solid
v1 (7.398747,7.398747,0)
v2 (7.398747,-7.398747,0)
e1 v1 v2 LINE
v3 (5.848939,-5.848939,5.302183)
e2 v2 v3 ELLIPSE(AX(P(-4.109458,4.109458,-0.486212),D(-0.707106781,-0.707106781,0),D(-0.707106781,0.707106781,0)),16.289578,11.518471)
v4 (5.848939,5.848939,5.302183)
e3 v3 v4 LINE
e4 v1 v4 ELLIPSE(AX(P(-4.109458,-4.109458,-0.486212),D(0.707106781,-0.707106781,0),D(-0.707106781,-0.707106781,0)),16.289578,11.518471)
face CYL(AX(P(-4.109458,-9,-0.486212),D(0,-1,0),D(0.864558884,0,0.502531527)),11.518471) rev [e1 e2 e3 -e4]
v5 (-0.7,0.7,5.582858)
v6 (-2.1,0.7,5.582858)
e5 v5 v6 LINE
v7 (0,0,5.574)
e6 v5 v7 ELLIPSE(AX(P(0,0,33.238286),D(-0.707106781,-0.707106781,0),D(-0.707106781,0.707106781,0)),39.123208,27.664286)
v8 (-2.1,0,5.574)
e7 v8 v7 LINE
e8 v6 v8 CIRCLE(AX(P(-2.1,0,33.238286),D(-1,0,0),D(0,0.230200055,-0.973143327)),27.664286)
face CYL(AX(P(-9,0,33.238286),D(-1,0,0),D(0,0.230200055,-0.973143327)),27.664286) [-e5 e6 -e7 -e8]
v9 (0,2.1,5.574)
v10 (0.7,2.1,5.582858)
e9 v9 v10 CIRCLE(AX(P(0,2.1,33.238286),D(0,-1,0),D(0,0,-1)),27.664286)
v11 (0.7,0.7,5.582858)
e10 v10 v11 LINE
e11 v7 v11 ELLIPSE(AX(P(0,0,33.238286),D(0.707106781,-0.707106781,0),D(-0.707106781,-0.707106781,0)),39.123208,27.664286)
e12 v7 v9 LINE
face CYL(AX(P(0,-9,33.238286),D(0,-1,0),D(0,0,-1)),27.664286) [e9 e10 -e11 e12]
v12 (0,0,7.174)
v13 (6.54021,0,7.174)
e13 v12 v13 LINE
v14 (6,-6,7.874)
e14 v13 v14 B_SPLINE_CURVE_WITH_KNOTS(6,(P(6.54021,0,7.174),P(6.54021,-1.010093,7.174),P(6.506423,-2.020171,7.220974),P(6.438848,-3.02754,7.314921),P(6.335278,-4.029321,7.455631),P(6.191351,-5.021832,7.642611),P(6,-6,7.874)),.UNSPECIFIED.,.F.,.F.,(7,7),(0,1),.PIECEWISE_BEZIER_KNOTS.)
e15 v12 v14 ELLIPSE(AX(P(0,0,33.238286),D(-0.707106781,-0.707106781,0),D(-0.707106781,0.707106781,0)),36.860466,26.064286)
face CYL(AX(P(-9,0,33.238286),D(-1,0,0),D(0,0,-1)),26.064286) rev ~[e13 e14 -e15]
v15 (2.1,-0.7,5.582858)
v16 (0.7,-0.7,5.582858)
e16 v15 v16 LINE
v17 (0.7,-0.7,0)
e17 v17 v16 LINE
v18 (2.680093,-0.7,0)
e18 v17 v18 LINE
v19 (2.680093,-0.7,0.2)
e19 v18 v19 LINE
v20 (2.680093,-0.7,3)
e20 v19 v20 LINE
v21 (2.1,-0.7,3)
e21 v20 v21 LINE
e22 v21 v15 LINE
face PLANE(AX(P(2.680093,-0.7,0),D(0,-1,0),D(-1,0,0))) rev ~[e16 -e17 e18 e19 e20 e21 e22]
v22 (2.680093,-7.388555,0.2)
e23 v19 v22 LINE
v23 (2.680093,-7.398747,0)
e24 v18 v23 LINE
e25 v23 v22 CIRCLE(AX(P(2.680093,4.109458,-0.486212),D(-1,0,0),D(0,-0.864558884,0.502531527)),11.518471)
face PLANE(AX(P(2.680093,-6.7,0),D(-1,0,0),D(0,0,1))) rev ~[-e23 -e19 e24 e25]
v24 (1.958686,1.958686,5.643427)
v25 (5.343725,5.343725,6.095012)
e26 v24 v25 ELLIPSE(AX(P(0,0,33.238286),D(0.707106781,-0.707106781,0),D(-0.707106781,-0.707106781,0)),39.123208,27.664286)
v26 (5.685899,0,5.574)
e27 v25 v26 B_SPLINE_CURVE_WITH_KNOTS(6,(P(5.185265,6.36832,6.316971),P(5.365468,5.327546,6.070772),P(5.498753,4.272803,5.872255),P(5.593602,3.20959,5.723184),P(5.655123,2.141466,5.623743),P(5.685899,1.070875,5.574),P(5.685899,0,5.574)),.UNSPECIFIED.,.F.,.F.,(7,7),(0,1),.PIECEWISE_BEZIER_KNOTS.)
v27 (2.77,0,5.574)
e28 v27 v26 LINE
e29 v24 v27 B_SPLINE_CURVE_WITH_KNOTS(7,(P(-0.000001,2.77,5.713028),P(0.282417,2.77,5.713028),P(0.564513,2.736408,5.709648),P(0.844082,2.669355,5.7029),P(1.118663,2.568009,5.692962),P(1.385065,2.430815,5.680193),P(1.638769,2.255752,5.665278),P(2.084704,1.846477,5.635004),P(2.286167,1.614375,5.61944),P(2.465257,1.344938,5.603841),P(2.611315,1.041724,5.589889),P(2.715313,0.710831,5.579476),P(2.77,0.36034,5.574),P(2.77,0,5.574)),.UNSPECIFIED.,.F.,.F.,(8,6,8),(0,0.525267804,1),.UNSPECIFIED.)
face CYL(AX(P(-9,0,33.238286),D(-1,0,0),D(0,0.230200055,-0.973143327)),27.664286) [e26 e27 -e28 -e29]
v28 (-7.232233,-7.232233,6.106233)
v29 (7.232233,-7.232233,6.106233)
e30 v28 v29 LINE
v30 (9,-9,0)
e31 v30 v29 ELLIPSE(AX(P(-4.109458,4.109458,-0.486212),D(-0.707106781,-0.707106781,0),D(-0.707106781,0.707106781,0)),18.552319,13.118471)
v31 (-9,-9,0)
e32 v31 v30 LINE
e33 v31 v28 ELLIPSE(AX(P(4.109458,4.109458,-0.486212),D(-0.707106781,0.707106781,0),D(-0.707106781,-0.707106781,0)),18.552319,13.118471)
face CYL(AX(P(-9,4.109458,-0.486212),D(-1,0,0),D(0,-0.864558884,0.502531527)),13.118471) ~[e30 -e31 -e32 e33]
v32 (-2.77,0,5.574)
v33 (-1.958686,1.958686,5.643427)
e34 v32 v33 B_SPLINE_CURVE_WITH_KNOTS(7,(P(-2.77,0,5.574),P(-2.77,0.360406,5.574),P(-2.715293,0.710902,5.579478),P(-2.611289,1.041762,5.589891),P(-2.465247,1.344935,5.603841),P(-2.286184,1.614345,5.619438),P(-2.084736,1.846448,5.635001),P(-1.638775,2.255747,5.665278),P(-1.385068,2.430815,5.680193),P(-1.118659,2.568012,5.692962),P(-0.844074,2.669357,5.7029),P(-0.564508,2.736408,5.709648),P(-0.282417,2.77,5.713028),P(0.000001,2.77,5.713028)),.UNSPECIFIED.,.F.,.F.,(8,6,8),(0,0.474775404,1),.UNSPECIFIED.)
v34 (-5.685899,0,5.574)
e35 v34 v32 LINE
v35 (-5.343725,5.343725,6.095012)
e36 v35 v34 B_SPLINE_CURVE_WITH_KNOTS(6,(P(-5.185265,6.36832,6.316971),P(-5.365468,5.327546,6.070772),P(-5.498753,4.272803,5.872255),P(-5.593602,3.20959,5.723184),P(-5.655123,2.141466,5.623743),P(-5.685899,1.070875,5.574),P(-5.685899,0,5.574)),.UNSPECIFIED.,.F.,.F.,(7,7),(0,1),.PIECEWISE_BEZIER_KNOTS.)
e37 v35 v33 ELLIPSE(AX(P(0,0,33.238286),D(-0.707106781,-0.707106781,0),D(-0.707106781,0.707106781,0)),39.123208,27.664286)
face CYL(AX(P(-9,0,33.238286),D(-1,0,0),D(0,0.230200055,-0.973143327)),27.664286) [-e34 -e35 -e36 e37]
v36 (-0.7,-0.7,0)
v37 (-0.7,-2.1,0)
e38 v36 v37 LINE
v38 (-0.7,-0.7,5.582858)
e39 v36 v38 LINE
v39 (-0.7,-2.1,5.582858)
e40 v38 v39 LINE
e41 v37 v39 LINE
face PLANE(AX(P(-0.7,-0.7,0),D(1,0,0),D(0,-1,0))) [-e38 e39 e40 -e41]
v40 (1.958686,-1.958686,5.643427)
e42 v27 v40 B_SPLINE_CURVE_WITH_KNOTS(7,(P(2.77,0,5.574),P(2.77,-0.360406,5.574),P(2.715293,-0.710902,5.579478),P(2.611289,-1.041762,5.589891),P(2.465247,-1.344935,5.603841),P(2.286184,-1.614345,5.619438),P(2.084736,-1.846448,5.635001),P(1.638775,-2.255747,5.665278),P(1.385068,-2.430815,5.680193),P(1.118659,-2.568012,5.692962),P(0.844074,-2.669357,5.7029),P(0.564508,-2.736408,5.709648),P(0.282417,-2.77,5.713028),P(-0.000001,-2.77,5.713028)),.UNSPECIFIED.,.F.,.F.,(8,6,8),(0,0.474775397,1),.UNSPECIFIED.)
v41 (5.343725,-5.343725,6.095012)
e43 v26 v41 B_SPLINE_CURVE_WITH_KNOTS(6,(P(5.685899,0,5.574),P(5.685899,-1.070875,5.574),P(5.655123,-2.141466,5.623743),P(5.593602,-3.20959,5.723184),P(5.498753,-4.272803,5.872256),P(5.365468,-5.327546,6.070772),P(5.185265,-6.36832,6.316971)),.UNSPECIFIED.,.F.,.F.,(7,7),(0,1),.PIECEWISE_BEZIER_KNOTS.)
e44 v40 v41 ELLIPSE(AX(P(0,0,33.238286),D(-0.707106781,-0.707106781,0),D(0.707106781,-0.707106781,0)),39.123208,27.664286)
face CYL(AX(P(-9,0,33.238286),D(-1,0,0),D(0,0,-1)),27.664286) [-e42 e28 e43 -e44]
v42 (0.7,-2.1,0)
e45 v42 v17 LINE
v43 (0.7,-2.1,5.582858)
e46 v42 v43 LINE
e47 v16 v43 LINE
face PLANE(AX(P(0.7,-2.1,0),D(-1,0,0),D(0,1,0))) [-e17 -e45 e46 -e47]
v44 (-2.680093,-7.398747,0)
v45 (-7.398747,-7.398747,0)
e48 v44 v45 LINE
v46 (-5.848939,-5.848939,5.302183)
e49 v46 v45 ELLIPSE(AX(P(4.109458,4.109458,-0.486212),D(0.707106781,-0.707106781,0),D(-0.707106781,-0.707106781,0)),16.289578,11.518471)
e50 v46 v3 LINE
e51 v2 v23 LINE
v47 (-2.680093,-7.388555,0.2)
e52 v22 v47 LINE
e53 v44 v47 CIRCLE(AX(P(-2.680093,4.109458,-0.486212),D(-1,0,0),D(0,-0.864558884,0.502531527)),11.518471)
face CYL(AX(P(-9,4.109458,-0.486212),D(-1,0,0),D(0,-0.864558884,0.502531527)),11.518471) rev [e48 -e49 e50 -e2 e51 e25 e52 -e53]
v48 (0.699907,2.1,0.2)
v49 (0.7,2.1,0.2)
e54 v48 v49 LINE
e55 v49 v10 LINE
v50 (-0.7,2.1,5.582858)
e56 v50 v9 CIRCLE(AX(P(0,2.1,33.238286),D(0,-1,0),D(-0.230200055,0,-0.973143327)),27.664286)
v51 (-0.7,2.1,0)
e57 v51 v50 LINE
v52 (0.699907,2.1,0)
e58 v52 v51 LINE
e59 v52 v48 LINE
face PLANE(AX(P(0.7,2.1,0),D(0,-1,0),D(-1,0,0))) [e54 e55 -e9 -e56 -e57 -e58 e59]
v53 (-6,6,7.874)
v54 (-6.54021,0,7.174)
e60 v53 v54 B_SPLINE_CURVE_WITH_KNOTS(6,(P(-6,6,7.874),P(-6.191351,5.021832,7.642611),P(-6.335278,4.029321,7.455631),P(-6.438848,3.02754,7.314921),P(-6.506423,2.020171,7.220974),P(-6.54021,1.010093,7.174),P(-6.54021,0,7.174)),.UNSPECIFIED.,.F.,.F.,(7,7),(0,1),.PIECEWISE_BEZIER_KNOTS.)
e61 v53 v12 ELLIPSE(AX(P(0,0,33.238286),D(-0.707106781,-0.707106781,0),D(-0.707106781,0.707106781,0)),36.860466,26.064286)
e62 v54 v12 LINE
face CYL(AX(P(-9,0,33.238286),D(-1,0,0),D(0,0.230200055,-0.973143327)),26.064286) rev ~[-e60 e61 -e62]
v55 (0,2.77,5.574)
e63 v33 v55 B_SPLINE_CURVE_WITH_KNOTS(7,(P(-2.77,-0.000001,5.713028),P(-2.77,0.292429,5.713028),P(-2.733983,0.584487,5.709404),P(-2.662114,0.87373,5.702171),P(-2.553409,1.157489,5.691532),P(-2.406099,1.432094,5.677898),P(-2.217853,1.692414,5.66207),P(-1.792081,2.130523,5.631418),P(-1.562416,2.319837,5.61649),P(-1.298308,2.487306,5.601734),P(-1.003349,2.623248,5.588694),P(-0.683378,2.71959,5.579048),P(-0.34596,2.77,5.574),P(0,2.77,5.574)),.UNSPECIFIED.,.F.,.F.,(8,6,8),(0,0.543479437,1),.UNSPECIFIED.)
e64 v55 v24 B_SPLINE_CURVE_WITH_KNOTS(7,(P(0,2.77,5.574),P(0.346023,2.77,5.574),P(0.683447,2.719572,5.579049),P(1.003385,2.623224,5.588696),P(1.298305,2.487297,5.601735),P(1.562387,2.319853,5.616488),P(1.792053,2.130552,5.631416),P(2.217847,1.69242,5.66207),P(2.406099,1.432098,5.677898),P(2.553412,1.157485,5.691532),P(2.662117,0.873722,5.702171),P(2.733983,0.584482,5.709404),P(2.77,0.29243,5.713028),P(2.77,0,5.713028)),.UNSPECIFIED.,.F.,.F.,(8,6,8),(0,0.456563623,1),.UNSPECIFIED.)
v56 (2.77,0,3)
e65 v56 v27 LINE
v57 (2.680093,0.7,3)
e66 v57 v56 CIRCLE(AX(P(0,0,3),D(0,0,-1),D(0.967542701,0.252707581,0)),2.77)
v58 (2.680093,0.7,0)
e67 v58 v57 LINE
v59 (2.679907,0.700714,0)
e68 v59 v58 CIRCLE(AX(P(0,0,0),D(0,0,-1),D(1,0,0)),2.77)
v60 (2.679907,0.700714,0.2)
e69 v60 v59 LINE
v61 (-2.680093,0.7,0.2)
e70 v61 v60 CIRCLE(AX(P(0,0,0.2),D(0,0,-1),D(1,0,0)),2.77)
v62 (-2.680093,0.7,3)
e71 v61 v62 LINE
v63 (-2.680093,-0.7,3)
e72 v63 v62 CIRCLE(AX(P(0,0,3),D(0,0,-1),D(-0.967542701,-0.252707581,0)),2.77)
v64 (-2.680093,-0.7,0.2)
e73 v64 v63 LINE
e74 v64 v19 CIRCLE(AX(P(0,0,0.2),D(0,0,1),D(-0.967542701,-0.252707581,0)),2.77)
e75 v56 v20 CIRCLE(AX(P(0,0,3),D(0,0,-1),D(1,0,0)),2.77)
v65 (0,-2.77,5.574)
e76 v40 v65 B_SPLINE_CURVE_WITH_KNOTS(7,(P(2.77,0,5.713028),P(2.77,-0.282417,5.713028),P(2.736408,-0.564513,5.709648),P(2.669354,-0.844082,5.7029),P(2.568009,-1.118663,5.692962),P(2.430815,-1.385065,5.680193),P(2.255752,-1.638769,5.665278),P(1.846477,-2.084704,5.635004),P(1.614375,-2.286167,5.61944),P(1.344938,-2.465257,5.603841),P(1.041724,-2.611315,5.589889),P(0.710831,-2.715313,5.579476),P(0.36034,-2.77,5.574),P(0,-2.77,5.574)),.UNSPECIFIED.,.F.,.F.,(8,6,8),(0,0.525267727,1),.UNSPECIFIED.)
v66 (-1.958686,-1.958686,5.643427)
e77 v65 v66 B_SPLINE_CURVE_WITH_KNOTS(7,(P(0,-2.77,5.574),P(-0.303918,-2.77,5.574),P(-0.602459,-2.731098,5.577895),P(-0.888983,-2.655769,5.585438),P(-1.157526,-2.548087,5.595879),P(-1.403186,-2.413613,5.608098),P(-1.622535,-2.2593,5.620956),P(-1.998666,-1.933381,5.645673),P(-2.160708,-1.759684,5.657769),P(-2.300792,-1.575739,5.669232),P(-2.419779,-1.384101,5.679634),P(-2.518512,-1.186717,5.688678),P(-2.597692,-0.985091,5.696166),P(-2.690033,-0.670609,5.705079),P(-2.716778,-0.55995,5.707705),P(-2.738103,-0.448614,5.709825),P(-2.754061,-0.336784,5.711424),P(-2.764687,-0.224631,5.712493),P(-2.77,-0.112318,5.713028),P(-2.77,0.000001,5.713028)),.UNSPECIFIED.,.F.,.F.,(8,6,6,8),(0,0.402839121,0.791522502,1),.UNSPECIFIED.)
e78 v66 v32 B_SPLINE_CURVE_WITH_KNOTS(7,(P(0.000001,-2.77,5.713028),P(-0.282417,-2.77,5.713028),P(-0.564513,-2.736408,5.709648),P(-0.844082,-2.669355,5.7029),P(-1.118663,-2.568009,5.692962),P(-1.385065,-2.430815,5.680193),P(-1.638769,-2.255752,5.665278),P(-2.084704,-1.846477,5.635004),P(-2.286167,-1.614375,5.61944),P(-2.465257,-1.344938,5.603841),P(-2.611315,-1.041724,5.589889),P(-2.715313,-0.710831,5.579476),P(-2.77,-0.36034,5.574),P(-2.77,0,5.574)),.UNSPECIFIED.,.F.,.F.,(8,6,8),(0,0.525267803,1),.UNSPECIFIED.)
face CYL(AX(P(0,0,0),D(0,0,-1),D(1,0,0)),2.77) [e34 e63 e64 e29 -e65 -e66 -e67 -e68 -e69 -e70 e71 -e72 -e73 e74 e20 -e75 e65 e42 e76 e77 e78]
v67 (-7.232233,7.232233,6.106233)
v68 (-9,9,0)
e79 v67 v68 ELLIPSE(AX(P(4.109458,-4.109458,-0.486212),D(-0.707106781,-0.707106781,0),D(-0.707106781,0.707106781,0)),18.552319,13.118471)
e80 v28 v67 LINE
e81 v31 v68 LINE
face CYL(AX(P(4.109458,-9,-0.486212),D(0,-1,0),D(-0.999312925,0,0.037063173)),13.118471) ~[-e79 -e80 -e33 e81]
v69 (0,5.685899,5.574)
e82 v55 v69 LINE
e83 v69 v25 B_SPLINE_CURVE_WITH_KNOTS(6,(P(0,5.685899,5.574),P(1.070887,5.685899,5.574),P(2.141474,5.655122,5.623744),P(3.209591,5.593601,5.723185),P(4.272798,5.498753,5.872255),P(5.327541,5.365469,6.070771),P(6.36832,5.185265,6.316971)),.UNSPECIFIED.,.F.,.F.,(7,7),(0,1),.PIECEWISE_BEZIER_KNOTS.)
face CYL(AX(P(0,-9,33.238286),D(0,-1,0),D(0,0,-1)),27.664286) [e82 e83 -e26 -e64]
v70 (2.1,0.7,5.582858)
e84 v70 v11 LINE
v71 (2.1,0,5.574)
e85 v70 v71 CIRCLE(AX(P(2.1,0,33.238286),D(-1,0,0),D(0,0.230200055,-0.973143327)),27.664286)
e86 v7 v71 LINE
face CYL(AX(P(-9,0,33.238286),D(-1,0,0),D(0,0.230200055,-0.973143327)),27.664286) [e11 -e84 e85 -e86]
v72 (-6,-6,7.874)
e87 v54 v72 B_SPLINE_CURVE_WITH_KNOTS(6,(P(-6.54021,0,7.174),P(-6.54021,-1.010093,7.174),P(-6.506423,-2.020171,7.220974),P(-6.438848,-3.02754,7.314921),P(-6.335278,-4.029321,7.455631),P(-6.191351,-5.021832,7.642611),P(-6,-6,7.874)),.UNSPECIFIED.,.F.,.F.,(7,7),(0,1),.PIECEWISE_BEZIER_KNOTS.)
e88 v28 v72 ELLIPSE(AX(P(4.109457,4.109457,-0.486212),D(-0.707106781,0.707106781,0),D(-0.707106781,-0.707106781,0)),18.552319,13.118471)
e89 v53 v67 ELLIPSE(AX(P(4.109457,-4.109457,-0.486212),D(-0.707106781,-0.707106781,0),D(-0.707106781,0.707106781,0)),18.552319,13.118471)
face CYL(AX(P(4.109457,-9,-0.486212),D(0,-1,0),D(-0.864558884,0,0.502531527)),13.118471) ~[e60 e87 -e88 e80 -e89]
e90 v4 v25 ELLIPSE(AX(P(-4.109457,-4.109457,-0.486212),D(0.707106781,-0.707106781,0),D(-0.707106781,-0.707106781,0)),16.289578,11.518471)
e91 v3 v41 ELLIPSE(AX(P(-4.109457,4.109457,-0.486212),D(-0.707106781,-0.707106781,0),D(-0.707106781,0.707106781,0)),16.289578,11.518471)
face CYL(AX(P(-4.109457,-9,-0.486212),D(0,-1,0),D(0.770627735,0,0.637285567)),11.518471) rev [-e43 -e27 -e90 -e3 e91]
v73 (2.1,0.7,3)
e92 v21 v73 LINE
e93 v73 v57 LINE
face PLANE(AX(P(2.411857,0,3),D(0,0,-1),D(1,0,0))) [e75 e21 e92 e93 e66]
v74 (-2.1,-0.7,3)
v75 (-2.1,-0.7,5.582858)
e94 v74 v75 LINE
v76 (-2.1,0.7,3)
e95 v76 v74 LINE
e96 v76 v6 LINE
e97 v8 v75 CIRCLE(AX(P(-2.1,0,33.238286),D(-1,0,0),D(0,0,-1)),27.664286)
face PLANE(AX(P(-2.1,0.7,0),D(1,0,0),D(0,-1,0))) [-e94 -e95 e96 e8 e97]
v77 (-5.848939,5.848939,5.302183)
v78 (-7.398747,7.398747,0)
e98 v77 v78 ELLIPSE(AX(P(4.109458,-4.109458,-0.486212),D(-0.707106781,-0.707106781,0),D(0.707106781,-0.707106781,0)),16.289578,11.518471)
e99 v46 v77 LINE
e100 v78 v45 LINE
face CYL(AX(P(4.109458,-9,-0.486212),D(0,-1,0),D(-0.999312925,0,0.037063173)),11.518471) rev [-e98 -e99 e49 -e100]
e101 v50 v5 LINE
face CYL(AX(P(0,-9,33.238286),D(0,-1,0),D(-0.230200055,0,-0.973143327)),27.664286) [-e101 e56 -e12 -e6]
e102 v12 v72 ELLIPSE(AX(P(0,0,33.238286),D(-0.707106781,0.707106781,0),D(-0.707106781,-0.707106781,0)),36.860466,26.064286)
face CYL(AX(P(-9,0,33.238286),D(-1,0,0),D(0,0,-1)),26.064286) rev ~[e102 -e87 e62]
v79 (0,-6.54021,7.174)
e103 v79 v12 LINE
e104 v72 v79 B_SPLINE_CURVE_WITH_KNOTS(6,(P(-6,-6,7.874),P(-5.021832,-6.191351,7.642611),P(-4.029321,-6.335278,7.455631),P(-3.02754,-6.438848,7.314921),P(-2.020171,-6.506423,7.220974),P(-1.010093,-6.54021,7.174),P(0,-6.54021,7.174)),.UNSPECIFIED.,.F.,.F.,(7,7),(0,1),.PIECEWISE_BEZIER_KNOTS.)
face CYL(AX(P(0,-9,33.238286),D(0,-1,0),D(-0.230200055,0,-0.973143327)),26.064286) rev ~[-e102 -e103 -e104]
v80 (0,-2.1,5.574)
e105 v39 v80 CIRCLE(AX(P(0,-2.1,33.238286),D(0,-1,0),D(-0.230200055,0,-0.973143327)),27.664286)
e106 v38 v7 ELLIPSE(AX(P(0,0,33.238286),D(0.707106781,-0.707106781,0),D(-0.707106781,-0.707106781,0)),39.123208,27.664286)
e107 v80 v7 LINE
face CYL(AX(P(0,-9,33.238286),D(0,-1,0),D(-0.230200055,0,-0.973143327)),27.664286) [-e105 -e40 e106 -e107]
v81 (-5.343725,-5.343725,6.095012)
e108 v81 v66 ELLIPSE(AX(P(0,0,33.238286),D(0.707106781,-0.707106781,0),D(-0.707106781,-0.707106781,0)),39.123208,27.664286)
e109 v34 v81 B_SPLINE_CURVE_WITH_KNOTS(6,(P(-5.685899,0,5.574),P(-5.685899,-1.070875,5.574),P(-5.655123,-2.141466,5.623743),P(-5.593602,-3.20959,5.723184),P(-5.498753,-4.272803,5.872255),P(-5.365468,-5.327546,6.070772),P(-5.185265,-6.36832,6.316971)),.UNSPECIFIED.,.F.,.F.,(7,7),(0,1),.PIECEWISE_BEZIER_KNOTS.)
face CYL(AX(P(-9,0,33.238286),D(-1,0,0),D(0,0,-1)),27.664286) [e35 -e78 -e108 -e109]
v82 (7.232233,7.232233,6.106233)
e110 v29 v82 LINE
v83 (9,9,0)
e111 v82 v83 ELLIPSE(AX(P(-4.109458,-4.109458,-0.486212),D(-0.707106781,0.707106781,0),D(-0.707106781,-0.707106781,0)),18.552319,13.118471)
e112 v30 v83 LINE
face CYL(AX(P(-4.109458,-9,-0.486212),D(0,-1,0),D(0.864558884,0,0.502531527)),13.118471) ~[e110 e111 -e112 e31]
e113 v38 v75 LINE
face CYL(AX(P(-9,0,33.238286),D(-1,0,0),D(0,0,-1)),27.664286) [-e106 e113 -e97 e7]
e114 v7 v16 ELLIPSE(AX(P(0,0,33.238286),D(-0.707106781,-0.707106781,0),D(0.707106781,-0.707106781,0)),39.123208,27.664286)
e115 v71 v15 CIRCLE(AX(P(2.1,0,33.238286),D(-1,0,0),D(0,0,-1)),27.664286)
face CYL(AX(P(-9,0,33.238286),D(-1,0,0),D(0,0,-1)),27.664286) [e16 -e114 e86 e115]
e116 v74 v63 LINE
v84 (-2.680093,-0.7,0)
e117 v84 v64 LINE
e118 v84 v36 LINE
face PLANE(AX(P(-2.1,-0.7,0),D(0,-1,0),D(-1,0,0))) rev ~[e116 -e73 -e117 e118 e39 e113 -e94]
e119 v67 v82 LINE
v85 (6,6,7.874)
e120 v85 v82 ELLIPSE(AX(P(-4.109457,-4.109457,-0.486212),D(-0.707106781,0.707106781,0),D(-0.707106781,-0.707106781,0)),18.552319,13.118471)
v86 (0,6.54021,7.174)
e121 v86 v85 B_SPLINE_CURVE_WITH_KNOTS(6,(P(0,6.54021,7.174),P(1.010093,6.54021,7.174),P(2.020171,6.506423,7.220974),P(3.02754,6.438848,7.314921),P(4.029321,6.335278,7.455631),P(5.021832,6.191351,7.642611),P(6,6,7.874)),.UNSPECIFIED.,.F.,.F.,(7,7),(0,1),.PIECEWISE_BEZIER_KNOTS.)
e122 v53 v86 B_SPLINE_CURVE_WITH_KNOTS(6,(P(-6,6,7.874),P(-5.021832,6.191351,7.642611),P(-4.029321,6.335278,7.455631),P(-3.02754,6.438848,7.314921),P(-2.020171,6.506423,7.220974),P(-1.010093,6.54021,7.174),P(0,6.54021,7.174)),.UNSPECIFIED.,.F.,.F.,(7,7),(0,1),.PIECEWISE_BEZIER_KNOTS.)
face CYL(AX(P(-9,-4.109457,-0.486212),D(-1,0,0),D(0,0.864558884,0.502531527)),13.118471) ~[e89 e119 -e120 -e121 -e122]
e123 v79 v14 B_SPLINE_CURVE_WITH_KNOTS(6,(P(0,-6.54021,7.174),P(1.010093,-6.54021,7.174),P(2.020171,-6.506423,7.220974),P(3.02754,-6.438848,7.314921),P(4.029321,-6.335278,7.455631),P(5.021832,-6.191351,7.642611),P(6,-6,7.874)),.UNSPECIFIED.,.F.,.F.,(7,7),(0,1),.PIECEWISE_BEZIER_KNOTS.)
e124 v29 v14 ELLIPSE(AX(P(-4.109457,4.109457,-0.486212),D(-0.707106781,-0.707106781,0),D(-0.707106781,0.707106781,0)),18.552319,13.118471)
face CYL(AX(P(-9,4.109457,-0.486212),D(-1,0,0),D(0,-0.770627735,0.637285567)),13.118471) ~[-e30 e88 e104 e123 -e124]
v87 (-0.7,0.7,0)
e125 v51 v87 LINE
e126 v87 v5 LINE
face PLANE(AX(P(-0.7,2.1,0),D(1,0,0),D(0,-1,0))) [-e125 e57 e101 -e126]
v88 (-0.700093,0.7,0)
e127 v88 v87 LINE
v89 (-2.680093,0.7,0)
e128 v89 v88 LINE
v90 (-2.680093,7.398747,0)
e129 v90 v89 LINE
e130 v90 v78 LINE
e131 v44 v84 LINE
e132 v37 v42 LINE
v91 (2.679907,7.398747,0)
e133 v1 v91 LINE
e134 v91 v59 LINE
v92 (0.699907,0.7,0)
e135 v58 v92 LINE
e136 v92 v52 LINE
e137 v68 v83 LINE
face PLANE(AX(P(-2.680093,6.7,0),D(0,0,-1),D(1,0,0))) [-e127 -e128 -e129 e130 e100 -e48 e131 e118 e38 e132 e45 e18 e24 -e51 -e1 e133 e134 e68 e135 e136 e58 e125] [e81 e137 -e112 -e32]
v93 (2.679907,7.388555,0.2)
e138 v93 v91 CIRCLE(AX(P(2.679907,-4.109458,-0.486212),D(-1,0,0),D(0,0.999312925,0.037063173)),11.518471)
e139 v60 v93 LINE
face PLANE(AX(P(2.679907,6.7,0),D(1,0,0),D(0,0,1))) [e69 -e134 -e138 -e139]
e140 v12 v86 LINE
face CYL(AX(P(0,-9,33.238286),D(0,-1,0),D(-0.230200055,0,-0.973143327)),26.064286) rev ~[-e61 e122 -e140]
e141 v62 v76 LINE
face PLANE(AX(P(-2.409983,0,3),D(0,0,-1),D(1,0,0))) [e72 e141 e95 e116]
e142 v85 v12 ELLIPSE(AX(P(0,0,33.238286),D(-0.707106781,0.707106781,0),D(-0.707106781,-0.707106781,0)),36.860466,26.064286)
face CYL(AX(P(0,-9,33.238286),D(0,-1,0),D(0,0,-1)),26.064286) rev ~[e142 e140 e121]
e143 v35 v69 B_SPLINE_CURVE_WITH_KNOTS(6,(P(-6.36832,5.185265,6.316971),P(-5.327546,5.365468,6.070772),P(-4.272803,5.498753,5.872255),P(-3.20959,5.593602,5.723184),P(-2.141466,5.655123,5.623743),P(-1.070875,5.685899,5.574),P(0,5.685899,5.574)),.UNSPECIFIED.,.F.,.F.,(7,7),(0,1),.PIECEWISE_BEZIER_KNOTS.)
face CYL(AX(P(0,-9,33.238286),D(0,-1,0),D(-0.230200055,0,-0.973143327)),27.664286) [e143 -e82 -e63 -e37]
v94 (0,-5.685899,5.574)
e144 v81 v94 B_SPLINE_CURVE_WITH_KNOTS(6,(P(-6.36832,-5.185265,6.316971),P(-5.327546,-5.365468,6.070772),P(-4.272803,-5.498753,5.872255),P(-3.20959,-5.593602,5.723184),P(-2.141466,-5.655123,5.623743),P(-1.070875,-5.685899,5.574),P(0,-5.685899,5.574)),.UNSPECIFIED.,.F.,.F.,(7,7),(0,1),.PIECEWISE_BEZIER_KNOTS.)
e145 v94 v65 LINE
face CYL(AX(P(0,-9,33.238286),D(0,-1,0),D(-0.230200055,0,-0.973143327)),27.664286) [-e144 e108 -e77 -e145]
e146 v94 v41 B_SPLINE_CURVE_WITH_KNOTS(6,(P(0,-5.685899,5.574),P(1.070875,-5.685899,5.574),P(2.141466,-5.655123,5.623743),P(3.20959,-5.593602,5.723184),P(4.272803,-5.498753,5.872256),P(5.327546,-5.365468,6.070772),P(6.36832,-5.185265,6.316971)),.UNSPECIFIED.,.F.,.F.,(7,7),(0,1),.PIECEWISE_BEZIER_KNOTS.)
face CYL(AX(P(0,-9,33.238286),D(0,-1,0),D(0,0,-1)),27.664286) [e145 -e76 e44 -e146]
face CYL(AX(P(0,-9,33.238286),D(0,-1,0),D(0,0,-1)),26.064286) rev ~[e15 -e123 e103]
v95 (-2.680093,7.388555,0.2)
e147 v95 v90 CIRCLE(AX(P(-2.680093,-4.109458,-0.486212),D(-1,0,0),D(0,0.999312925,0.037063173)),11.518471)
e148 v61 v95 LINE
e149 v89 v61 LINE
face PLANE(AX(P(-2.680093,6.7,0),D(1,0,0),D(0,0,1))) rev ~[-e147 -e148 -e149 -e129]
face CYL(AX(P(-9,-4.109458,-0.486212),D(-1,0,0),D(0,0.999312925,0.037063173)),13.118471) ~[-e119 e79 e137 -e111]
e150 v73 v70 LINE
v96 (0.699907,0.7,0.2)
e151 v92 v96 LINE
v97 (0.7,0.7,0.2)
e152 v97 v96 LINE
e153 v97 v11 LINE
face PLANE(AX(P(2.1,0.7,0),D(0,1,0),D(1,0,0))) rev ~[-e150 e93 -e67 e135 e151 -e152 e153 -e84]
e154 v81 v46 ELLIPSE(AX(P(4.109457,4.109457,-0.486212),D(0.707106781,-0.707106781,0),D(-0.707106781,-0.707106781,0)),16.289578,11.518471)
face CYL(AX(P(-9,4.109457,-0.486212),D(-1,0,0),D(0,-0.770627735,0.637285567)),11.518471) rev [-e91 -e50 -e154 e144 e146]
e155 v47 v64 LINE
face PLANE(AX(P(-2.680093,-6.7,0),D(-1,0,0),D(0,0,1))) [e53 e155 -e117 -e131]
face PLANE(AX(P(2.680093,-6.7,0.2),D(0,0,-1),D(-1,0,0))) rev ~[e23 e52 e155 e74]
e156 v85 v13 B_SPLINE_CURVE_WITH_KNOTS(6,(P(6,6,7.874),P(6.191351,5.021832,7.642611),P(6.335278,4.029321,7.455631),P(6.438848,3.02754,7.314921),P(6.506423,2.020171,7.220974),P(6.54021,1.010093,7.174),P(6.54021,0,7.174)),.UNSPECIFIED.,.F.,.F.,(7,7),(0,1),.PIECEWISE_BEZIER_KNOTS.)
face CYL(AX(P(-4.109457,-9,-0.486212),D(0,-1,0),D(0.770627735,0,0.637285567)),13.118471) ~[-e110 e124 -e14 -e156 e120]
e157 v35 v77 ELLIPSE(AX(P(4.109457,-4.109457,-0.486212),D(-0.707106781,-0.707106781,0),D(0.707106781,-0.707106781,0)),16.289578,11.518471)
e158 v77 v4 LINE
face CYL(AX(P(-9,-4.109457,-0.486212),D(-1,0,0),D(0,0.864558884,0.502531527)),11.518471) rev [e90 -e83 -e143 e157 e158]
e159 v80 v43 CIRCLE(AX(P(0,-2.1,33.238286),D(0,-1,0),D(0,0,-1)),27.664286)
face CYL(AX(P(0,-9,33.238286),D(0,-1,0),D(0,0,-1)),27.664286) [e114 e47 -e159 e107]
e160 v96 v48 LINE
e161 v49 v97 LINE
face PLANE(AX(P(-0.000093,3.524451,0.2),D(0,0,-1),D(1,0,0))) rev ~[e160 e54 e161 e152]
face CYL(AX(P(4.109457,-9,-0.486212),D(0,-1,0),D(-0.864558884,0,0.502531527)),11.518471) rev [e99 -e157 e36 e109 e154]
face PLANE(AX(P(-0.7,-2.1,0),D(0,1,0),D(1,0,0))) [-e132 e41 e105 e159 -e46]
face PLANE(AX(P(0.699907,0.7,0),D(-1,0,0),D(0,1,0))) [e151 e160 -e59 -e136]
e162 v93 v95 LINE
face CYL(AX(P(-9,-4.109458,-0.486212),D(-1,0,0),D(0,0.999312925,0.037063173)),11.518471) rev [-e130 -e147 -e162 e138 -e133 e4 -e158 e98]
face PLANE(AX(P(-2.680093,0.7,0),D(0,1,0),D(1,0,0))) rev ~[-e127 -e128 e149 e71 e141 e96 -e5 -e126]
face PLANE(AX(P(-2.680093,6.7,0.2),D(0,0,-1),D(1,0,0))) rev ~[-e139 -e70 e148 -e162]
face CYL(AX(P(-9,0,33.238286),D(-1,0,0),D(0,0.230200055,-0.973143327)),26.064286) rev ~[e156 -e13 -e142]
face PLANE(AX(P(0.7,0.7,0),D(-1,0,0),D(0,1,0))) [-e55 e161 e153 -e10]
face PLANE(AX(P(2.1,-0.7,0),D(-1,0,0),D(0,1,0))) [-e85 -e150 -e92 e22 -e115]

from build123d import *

# Parameters (mm, degrees)
F0_W      = 18
F0_H      = 18
F1_DEPTH  = 7.874
F4_DEPTH  = 25
F5_DEPTH  = 25
F6_T      = -1.6
F7_R      = 2.77
F8_DEPTH  = 7
F10_DEPTH = 3
F12_DEPTH = 0.2
F13_DEPTH = 1
F14_DEPTH = 1


with BuildPart() as f1:
    # F0 (on Top) → F1 (new body)
    with BuildSketch(Plane.XY):
        Rectangle(F0_W, F0_H)
    extrude(amount=F1_DEPTH)

    # F3 (on face) → F4 (cut)
    with BuildSketch(Plane(origin=(-9, 0, 0), x_dir=(0, -1, 0), z_dir=(-1, 0, 0))):
        with BuildLine():
            Line((-6, 7.874), (-9, 7.874))
            Line((-9, 7.874), (-7.232233047, 6.106233047))
            ThreePointArc((-7.232233047, 6.106233047), (-6.6524748606, 7.0154603305), (-6, 7.874))
        make_face()
        with BuildLine():
            Line((-7.232233047, 6.106233047), (-9, 7.874))
            Line((-9, 7.874), (-9, 0))
            ThreePointArc((-9, 0), (-8.491581374, 3.1618143655), (-7.232233047, 6.106233047))
        make_face()
        with BuildLine():
            Line((0, 7.874), (-6, 7.874))
            ThreePointArc((-6, 7.874), (-3.0203476621, 7.3495914676), (0, 7.174))
            Line((0, 7.174), (0, 7.874))
        make_face()
        with BuildLine():
            Line((0, 7.874), (0, 7.174))
            ThreePointArc((0, 7.174), (3.0203476621, 7.3495914676), (6, 7.874))
            Line((6, 7.874), (0, 7.874))
        make_face()
        with BuildLine():
            Line((9, 7.874), (6, 7.874))
            ThreePointArc((6, 7.874), (6.6524748606, 7.0154603305), (7.232233047, 6.106233047))
            Line((7.232233047, 6.106233047), (9, 7.874))
        make_face()
        with BuildLine():
            ThreePointArc((7.232233047, 6.106233047), (8.491581374, 3.1618143655), (9, 0))
            Line((9, 0), (9, 7.874))
            Line((9, 7.874), (7.232233047, 6.106233047))
        make_face()
    extrude(amount=-F4_DEPTH, mode=Mode.SUBTRACT)

    # F2 (on face) → F5 (cut)
    with BuildSketch(Plane.XZ.offset(9)):
        with BuildLine():
            Line((-7.232233047, 6.106233047), (-9, 7.874))
            Line((-9, 7.874), (-9, 0))
            ThreePointArc((-9, 0), (-8.491581374, 3.1618143655), (-7.232233047, 6.106233047))
        make_face()
        with BuildLine():
            Line((-6, 7.874), (-9, 7.874))
            Line((-9, 7.874), (-7.232233047, 6.106233047))
            ThreePointArc((-7.232233047, 6.106233047), (-6.6524748606, 7.0154603305), (-6, 7.874))
        make_face()
        with BuildLine():
            Line((6, 7.874), (0, 7.874))
            Line((0, 7.874), (0, 7.174))
            ThreePointArc((0, 7.174), (3.0203476621, 7.3495914676), (6, 7.874))
        make_face()
        with BuildLine():
            Line((0, 7.874), (-6, 7.874))
            ThreePointArc((-6, 7.874), (-3.0203476621, 7.3495914676), (0, 7.174))
            Line((0, 7.174), (0, 7.874))
        make_face()
        with BuildLine():
            Line((9, 7.874), (6, 7.874))
            ThreePointArc((6, 7.874), (6.6524748606, 7.0154603305), (7.232233047, 6.106233047))
            Line((7.232233047, 6.106233047), (9, 7.874))
        make_face()
        with BuildLine():
            ThreePointArc((7.232233047, 6.106233047), (8.491581374, 3.1618143655), (9, 0))
            Line((9, 0), (9, 7.874))
            Line((9, 7.874), (7.232233047, 6.106233047))
        make_face()
    extrude(amount=-F5_DEPTH, mode=Mode.SUBTRACT)

    # F6
    f6_openings = [f1.faces().sort_by_distance(p)[0] for p in [
        (0, 0, 0),
    ]]
    offset(amount=F6_T, openings=f6_openings)

    # F7 (on face) → F8 (join)
    with BuildSketch(Plane(origin=(0, 0, 0), x_dir=(1, 0, 0), z_dir=(0, 0, -1))):
        Circle(F7_R)
        Polygon((0.7, 2.1), (0.7, 0.7), (2.1, 0.7), (2.1, 0), (2.1, -0.7), (0.7, -0.7), (0.7, -2.1), (0, -2.1), (-0.7, -2.1), (-0.7, -0.7), (-2.1, -0.7), (-2.1, 0), (-2.1, 0.7), (-0.7, 0.7), (-0.7, 2.1), (0, 2.1), align=None, mode=Mode.SUBTRACT)
    extrude(amount=-F8_DEPTH)

    # F9 (on face) → F10 (cut)
    with BuildSketch(Plane(origin=(0, 0, 0), x_dir=(1, 0, 0), z_dir=(0, 0, -1))):
        with BuildLine():
            Line((-2.1, -0.7), (-2.1, 0.7))
            Line((-2.1, 0.7), (-2.680093282, 0.7))
            ThreePointArc((-2.680093282, 0.7), (-2.77, 0), (-2.680093282, -0.7))
            Line((-2.680093282, -0.7), (-2.1, -0.7))
        make_face()
        with BuildLine():
            ThreePointArc((2.77, 0), (2.7474313814, 0.3528750551), (2.680093282, 0.7))
            Line((2.680093282, 0.7), (2.1, 0.7))
            Line((2.1, 0.7), (2.1, -0.7))
            Line((2.1, -0.7), (2.680093282, -0.7))
            ThreePointArc((2.680093282, -0.7), (2.7474313814, -0.3528750551), (2.77, 0))
        make_face()
    extrude(amount=-F10_DEPTH, mode=Mode.SUBTRACT)

    # F11 (on face) → F12 (join)
    with BuildSketch(Plane(origin=(0, 0, 0), x_dir=(1, 0, 0), z_dir=(0, 0, -1))):
        with BuildLine():
            ThreePointArc((-2.680093282, 0.7), (0, 2.77), (2.680093282, 0.7))
            Line((2.680093282, 0.7), (2.680093282, 6.7))
            Line((2.680093282, 6.7), (-2.680093282, 6.7))
            Line((-2.680093282, 6.7), (-2.680093282, 0.7))
        make_face()
        Polygon((-0.700093282, -0.7), (-2.680093282, -0.7), (-2.680093282, -6.7), (2.679906718, -6.7), (2.679906718, -0.7), (0.699906718, -0.7), (0.699906718, -2.1), (-0.700093282, -2.1), align=None)
    extrude(amount=-F12_DEPTH)

    # F13 (add): a face of the model
    f13_faces = [f1.faces().sort_by_distance(p)[0] for p in [
        (0, -6.7, 0.1),
    ]]
    extrude(f13_faces, amount=F13_DEPTH)

    # F14 (add): a face of the model
    f14_faces = [f1.faces().sort_by_distance(p)[0] for p in [
        (-9.3282e-05, 6.7, 0.1),
    ]]
    extrude(f14_faces, amount=F14_DEPTH)


solid = f1.part
